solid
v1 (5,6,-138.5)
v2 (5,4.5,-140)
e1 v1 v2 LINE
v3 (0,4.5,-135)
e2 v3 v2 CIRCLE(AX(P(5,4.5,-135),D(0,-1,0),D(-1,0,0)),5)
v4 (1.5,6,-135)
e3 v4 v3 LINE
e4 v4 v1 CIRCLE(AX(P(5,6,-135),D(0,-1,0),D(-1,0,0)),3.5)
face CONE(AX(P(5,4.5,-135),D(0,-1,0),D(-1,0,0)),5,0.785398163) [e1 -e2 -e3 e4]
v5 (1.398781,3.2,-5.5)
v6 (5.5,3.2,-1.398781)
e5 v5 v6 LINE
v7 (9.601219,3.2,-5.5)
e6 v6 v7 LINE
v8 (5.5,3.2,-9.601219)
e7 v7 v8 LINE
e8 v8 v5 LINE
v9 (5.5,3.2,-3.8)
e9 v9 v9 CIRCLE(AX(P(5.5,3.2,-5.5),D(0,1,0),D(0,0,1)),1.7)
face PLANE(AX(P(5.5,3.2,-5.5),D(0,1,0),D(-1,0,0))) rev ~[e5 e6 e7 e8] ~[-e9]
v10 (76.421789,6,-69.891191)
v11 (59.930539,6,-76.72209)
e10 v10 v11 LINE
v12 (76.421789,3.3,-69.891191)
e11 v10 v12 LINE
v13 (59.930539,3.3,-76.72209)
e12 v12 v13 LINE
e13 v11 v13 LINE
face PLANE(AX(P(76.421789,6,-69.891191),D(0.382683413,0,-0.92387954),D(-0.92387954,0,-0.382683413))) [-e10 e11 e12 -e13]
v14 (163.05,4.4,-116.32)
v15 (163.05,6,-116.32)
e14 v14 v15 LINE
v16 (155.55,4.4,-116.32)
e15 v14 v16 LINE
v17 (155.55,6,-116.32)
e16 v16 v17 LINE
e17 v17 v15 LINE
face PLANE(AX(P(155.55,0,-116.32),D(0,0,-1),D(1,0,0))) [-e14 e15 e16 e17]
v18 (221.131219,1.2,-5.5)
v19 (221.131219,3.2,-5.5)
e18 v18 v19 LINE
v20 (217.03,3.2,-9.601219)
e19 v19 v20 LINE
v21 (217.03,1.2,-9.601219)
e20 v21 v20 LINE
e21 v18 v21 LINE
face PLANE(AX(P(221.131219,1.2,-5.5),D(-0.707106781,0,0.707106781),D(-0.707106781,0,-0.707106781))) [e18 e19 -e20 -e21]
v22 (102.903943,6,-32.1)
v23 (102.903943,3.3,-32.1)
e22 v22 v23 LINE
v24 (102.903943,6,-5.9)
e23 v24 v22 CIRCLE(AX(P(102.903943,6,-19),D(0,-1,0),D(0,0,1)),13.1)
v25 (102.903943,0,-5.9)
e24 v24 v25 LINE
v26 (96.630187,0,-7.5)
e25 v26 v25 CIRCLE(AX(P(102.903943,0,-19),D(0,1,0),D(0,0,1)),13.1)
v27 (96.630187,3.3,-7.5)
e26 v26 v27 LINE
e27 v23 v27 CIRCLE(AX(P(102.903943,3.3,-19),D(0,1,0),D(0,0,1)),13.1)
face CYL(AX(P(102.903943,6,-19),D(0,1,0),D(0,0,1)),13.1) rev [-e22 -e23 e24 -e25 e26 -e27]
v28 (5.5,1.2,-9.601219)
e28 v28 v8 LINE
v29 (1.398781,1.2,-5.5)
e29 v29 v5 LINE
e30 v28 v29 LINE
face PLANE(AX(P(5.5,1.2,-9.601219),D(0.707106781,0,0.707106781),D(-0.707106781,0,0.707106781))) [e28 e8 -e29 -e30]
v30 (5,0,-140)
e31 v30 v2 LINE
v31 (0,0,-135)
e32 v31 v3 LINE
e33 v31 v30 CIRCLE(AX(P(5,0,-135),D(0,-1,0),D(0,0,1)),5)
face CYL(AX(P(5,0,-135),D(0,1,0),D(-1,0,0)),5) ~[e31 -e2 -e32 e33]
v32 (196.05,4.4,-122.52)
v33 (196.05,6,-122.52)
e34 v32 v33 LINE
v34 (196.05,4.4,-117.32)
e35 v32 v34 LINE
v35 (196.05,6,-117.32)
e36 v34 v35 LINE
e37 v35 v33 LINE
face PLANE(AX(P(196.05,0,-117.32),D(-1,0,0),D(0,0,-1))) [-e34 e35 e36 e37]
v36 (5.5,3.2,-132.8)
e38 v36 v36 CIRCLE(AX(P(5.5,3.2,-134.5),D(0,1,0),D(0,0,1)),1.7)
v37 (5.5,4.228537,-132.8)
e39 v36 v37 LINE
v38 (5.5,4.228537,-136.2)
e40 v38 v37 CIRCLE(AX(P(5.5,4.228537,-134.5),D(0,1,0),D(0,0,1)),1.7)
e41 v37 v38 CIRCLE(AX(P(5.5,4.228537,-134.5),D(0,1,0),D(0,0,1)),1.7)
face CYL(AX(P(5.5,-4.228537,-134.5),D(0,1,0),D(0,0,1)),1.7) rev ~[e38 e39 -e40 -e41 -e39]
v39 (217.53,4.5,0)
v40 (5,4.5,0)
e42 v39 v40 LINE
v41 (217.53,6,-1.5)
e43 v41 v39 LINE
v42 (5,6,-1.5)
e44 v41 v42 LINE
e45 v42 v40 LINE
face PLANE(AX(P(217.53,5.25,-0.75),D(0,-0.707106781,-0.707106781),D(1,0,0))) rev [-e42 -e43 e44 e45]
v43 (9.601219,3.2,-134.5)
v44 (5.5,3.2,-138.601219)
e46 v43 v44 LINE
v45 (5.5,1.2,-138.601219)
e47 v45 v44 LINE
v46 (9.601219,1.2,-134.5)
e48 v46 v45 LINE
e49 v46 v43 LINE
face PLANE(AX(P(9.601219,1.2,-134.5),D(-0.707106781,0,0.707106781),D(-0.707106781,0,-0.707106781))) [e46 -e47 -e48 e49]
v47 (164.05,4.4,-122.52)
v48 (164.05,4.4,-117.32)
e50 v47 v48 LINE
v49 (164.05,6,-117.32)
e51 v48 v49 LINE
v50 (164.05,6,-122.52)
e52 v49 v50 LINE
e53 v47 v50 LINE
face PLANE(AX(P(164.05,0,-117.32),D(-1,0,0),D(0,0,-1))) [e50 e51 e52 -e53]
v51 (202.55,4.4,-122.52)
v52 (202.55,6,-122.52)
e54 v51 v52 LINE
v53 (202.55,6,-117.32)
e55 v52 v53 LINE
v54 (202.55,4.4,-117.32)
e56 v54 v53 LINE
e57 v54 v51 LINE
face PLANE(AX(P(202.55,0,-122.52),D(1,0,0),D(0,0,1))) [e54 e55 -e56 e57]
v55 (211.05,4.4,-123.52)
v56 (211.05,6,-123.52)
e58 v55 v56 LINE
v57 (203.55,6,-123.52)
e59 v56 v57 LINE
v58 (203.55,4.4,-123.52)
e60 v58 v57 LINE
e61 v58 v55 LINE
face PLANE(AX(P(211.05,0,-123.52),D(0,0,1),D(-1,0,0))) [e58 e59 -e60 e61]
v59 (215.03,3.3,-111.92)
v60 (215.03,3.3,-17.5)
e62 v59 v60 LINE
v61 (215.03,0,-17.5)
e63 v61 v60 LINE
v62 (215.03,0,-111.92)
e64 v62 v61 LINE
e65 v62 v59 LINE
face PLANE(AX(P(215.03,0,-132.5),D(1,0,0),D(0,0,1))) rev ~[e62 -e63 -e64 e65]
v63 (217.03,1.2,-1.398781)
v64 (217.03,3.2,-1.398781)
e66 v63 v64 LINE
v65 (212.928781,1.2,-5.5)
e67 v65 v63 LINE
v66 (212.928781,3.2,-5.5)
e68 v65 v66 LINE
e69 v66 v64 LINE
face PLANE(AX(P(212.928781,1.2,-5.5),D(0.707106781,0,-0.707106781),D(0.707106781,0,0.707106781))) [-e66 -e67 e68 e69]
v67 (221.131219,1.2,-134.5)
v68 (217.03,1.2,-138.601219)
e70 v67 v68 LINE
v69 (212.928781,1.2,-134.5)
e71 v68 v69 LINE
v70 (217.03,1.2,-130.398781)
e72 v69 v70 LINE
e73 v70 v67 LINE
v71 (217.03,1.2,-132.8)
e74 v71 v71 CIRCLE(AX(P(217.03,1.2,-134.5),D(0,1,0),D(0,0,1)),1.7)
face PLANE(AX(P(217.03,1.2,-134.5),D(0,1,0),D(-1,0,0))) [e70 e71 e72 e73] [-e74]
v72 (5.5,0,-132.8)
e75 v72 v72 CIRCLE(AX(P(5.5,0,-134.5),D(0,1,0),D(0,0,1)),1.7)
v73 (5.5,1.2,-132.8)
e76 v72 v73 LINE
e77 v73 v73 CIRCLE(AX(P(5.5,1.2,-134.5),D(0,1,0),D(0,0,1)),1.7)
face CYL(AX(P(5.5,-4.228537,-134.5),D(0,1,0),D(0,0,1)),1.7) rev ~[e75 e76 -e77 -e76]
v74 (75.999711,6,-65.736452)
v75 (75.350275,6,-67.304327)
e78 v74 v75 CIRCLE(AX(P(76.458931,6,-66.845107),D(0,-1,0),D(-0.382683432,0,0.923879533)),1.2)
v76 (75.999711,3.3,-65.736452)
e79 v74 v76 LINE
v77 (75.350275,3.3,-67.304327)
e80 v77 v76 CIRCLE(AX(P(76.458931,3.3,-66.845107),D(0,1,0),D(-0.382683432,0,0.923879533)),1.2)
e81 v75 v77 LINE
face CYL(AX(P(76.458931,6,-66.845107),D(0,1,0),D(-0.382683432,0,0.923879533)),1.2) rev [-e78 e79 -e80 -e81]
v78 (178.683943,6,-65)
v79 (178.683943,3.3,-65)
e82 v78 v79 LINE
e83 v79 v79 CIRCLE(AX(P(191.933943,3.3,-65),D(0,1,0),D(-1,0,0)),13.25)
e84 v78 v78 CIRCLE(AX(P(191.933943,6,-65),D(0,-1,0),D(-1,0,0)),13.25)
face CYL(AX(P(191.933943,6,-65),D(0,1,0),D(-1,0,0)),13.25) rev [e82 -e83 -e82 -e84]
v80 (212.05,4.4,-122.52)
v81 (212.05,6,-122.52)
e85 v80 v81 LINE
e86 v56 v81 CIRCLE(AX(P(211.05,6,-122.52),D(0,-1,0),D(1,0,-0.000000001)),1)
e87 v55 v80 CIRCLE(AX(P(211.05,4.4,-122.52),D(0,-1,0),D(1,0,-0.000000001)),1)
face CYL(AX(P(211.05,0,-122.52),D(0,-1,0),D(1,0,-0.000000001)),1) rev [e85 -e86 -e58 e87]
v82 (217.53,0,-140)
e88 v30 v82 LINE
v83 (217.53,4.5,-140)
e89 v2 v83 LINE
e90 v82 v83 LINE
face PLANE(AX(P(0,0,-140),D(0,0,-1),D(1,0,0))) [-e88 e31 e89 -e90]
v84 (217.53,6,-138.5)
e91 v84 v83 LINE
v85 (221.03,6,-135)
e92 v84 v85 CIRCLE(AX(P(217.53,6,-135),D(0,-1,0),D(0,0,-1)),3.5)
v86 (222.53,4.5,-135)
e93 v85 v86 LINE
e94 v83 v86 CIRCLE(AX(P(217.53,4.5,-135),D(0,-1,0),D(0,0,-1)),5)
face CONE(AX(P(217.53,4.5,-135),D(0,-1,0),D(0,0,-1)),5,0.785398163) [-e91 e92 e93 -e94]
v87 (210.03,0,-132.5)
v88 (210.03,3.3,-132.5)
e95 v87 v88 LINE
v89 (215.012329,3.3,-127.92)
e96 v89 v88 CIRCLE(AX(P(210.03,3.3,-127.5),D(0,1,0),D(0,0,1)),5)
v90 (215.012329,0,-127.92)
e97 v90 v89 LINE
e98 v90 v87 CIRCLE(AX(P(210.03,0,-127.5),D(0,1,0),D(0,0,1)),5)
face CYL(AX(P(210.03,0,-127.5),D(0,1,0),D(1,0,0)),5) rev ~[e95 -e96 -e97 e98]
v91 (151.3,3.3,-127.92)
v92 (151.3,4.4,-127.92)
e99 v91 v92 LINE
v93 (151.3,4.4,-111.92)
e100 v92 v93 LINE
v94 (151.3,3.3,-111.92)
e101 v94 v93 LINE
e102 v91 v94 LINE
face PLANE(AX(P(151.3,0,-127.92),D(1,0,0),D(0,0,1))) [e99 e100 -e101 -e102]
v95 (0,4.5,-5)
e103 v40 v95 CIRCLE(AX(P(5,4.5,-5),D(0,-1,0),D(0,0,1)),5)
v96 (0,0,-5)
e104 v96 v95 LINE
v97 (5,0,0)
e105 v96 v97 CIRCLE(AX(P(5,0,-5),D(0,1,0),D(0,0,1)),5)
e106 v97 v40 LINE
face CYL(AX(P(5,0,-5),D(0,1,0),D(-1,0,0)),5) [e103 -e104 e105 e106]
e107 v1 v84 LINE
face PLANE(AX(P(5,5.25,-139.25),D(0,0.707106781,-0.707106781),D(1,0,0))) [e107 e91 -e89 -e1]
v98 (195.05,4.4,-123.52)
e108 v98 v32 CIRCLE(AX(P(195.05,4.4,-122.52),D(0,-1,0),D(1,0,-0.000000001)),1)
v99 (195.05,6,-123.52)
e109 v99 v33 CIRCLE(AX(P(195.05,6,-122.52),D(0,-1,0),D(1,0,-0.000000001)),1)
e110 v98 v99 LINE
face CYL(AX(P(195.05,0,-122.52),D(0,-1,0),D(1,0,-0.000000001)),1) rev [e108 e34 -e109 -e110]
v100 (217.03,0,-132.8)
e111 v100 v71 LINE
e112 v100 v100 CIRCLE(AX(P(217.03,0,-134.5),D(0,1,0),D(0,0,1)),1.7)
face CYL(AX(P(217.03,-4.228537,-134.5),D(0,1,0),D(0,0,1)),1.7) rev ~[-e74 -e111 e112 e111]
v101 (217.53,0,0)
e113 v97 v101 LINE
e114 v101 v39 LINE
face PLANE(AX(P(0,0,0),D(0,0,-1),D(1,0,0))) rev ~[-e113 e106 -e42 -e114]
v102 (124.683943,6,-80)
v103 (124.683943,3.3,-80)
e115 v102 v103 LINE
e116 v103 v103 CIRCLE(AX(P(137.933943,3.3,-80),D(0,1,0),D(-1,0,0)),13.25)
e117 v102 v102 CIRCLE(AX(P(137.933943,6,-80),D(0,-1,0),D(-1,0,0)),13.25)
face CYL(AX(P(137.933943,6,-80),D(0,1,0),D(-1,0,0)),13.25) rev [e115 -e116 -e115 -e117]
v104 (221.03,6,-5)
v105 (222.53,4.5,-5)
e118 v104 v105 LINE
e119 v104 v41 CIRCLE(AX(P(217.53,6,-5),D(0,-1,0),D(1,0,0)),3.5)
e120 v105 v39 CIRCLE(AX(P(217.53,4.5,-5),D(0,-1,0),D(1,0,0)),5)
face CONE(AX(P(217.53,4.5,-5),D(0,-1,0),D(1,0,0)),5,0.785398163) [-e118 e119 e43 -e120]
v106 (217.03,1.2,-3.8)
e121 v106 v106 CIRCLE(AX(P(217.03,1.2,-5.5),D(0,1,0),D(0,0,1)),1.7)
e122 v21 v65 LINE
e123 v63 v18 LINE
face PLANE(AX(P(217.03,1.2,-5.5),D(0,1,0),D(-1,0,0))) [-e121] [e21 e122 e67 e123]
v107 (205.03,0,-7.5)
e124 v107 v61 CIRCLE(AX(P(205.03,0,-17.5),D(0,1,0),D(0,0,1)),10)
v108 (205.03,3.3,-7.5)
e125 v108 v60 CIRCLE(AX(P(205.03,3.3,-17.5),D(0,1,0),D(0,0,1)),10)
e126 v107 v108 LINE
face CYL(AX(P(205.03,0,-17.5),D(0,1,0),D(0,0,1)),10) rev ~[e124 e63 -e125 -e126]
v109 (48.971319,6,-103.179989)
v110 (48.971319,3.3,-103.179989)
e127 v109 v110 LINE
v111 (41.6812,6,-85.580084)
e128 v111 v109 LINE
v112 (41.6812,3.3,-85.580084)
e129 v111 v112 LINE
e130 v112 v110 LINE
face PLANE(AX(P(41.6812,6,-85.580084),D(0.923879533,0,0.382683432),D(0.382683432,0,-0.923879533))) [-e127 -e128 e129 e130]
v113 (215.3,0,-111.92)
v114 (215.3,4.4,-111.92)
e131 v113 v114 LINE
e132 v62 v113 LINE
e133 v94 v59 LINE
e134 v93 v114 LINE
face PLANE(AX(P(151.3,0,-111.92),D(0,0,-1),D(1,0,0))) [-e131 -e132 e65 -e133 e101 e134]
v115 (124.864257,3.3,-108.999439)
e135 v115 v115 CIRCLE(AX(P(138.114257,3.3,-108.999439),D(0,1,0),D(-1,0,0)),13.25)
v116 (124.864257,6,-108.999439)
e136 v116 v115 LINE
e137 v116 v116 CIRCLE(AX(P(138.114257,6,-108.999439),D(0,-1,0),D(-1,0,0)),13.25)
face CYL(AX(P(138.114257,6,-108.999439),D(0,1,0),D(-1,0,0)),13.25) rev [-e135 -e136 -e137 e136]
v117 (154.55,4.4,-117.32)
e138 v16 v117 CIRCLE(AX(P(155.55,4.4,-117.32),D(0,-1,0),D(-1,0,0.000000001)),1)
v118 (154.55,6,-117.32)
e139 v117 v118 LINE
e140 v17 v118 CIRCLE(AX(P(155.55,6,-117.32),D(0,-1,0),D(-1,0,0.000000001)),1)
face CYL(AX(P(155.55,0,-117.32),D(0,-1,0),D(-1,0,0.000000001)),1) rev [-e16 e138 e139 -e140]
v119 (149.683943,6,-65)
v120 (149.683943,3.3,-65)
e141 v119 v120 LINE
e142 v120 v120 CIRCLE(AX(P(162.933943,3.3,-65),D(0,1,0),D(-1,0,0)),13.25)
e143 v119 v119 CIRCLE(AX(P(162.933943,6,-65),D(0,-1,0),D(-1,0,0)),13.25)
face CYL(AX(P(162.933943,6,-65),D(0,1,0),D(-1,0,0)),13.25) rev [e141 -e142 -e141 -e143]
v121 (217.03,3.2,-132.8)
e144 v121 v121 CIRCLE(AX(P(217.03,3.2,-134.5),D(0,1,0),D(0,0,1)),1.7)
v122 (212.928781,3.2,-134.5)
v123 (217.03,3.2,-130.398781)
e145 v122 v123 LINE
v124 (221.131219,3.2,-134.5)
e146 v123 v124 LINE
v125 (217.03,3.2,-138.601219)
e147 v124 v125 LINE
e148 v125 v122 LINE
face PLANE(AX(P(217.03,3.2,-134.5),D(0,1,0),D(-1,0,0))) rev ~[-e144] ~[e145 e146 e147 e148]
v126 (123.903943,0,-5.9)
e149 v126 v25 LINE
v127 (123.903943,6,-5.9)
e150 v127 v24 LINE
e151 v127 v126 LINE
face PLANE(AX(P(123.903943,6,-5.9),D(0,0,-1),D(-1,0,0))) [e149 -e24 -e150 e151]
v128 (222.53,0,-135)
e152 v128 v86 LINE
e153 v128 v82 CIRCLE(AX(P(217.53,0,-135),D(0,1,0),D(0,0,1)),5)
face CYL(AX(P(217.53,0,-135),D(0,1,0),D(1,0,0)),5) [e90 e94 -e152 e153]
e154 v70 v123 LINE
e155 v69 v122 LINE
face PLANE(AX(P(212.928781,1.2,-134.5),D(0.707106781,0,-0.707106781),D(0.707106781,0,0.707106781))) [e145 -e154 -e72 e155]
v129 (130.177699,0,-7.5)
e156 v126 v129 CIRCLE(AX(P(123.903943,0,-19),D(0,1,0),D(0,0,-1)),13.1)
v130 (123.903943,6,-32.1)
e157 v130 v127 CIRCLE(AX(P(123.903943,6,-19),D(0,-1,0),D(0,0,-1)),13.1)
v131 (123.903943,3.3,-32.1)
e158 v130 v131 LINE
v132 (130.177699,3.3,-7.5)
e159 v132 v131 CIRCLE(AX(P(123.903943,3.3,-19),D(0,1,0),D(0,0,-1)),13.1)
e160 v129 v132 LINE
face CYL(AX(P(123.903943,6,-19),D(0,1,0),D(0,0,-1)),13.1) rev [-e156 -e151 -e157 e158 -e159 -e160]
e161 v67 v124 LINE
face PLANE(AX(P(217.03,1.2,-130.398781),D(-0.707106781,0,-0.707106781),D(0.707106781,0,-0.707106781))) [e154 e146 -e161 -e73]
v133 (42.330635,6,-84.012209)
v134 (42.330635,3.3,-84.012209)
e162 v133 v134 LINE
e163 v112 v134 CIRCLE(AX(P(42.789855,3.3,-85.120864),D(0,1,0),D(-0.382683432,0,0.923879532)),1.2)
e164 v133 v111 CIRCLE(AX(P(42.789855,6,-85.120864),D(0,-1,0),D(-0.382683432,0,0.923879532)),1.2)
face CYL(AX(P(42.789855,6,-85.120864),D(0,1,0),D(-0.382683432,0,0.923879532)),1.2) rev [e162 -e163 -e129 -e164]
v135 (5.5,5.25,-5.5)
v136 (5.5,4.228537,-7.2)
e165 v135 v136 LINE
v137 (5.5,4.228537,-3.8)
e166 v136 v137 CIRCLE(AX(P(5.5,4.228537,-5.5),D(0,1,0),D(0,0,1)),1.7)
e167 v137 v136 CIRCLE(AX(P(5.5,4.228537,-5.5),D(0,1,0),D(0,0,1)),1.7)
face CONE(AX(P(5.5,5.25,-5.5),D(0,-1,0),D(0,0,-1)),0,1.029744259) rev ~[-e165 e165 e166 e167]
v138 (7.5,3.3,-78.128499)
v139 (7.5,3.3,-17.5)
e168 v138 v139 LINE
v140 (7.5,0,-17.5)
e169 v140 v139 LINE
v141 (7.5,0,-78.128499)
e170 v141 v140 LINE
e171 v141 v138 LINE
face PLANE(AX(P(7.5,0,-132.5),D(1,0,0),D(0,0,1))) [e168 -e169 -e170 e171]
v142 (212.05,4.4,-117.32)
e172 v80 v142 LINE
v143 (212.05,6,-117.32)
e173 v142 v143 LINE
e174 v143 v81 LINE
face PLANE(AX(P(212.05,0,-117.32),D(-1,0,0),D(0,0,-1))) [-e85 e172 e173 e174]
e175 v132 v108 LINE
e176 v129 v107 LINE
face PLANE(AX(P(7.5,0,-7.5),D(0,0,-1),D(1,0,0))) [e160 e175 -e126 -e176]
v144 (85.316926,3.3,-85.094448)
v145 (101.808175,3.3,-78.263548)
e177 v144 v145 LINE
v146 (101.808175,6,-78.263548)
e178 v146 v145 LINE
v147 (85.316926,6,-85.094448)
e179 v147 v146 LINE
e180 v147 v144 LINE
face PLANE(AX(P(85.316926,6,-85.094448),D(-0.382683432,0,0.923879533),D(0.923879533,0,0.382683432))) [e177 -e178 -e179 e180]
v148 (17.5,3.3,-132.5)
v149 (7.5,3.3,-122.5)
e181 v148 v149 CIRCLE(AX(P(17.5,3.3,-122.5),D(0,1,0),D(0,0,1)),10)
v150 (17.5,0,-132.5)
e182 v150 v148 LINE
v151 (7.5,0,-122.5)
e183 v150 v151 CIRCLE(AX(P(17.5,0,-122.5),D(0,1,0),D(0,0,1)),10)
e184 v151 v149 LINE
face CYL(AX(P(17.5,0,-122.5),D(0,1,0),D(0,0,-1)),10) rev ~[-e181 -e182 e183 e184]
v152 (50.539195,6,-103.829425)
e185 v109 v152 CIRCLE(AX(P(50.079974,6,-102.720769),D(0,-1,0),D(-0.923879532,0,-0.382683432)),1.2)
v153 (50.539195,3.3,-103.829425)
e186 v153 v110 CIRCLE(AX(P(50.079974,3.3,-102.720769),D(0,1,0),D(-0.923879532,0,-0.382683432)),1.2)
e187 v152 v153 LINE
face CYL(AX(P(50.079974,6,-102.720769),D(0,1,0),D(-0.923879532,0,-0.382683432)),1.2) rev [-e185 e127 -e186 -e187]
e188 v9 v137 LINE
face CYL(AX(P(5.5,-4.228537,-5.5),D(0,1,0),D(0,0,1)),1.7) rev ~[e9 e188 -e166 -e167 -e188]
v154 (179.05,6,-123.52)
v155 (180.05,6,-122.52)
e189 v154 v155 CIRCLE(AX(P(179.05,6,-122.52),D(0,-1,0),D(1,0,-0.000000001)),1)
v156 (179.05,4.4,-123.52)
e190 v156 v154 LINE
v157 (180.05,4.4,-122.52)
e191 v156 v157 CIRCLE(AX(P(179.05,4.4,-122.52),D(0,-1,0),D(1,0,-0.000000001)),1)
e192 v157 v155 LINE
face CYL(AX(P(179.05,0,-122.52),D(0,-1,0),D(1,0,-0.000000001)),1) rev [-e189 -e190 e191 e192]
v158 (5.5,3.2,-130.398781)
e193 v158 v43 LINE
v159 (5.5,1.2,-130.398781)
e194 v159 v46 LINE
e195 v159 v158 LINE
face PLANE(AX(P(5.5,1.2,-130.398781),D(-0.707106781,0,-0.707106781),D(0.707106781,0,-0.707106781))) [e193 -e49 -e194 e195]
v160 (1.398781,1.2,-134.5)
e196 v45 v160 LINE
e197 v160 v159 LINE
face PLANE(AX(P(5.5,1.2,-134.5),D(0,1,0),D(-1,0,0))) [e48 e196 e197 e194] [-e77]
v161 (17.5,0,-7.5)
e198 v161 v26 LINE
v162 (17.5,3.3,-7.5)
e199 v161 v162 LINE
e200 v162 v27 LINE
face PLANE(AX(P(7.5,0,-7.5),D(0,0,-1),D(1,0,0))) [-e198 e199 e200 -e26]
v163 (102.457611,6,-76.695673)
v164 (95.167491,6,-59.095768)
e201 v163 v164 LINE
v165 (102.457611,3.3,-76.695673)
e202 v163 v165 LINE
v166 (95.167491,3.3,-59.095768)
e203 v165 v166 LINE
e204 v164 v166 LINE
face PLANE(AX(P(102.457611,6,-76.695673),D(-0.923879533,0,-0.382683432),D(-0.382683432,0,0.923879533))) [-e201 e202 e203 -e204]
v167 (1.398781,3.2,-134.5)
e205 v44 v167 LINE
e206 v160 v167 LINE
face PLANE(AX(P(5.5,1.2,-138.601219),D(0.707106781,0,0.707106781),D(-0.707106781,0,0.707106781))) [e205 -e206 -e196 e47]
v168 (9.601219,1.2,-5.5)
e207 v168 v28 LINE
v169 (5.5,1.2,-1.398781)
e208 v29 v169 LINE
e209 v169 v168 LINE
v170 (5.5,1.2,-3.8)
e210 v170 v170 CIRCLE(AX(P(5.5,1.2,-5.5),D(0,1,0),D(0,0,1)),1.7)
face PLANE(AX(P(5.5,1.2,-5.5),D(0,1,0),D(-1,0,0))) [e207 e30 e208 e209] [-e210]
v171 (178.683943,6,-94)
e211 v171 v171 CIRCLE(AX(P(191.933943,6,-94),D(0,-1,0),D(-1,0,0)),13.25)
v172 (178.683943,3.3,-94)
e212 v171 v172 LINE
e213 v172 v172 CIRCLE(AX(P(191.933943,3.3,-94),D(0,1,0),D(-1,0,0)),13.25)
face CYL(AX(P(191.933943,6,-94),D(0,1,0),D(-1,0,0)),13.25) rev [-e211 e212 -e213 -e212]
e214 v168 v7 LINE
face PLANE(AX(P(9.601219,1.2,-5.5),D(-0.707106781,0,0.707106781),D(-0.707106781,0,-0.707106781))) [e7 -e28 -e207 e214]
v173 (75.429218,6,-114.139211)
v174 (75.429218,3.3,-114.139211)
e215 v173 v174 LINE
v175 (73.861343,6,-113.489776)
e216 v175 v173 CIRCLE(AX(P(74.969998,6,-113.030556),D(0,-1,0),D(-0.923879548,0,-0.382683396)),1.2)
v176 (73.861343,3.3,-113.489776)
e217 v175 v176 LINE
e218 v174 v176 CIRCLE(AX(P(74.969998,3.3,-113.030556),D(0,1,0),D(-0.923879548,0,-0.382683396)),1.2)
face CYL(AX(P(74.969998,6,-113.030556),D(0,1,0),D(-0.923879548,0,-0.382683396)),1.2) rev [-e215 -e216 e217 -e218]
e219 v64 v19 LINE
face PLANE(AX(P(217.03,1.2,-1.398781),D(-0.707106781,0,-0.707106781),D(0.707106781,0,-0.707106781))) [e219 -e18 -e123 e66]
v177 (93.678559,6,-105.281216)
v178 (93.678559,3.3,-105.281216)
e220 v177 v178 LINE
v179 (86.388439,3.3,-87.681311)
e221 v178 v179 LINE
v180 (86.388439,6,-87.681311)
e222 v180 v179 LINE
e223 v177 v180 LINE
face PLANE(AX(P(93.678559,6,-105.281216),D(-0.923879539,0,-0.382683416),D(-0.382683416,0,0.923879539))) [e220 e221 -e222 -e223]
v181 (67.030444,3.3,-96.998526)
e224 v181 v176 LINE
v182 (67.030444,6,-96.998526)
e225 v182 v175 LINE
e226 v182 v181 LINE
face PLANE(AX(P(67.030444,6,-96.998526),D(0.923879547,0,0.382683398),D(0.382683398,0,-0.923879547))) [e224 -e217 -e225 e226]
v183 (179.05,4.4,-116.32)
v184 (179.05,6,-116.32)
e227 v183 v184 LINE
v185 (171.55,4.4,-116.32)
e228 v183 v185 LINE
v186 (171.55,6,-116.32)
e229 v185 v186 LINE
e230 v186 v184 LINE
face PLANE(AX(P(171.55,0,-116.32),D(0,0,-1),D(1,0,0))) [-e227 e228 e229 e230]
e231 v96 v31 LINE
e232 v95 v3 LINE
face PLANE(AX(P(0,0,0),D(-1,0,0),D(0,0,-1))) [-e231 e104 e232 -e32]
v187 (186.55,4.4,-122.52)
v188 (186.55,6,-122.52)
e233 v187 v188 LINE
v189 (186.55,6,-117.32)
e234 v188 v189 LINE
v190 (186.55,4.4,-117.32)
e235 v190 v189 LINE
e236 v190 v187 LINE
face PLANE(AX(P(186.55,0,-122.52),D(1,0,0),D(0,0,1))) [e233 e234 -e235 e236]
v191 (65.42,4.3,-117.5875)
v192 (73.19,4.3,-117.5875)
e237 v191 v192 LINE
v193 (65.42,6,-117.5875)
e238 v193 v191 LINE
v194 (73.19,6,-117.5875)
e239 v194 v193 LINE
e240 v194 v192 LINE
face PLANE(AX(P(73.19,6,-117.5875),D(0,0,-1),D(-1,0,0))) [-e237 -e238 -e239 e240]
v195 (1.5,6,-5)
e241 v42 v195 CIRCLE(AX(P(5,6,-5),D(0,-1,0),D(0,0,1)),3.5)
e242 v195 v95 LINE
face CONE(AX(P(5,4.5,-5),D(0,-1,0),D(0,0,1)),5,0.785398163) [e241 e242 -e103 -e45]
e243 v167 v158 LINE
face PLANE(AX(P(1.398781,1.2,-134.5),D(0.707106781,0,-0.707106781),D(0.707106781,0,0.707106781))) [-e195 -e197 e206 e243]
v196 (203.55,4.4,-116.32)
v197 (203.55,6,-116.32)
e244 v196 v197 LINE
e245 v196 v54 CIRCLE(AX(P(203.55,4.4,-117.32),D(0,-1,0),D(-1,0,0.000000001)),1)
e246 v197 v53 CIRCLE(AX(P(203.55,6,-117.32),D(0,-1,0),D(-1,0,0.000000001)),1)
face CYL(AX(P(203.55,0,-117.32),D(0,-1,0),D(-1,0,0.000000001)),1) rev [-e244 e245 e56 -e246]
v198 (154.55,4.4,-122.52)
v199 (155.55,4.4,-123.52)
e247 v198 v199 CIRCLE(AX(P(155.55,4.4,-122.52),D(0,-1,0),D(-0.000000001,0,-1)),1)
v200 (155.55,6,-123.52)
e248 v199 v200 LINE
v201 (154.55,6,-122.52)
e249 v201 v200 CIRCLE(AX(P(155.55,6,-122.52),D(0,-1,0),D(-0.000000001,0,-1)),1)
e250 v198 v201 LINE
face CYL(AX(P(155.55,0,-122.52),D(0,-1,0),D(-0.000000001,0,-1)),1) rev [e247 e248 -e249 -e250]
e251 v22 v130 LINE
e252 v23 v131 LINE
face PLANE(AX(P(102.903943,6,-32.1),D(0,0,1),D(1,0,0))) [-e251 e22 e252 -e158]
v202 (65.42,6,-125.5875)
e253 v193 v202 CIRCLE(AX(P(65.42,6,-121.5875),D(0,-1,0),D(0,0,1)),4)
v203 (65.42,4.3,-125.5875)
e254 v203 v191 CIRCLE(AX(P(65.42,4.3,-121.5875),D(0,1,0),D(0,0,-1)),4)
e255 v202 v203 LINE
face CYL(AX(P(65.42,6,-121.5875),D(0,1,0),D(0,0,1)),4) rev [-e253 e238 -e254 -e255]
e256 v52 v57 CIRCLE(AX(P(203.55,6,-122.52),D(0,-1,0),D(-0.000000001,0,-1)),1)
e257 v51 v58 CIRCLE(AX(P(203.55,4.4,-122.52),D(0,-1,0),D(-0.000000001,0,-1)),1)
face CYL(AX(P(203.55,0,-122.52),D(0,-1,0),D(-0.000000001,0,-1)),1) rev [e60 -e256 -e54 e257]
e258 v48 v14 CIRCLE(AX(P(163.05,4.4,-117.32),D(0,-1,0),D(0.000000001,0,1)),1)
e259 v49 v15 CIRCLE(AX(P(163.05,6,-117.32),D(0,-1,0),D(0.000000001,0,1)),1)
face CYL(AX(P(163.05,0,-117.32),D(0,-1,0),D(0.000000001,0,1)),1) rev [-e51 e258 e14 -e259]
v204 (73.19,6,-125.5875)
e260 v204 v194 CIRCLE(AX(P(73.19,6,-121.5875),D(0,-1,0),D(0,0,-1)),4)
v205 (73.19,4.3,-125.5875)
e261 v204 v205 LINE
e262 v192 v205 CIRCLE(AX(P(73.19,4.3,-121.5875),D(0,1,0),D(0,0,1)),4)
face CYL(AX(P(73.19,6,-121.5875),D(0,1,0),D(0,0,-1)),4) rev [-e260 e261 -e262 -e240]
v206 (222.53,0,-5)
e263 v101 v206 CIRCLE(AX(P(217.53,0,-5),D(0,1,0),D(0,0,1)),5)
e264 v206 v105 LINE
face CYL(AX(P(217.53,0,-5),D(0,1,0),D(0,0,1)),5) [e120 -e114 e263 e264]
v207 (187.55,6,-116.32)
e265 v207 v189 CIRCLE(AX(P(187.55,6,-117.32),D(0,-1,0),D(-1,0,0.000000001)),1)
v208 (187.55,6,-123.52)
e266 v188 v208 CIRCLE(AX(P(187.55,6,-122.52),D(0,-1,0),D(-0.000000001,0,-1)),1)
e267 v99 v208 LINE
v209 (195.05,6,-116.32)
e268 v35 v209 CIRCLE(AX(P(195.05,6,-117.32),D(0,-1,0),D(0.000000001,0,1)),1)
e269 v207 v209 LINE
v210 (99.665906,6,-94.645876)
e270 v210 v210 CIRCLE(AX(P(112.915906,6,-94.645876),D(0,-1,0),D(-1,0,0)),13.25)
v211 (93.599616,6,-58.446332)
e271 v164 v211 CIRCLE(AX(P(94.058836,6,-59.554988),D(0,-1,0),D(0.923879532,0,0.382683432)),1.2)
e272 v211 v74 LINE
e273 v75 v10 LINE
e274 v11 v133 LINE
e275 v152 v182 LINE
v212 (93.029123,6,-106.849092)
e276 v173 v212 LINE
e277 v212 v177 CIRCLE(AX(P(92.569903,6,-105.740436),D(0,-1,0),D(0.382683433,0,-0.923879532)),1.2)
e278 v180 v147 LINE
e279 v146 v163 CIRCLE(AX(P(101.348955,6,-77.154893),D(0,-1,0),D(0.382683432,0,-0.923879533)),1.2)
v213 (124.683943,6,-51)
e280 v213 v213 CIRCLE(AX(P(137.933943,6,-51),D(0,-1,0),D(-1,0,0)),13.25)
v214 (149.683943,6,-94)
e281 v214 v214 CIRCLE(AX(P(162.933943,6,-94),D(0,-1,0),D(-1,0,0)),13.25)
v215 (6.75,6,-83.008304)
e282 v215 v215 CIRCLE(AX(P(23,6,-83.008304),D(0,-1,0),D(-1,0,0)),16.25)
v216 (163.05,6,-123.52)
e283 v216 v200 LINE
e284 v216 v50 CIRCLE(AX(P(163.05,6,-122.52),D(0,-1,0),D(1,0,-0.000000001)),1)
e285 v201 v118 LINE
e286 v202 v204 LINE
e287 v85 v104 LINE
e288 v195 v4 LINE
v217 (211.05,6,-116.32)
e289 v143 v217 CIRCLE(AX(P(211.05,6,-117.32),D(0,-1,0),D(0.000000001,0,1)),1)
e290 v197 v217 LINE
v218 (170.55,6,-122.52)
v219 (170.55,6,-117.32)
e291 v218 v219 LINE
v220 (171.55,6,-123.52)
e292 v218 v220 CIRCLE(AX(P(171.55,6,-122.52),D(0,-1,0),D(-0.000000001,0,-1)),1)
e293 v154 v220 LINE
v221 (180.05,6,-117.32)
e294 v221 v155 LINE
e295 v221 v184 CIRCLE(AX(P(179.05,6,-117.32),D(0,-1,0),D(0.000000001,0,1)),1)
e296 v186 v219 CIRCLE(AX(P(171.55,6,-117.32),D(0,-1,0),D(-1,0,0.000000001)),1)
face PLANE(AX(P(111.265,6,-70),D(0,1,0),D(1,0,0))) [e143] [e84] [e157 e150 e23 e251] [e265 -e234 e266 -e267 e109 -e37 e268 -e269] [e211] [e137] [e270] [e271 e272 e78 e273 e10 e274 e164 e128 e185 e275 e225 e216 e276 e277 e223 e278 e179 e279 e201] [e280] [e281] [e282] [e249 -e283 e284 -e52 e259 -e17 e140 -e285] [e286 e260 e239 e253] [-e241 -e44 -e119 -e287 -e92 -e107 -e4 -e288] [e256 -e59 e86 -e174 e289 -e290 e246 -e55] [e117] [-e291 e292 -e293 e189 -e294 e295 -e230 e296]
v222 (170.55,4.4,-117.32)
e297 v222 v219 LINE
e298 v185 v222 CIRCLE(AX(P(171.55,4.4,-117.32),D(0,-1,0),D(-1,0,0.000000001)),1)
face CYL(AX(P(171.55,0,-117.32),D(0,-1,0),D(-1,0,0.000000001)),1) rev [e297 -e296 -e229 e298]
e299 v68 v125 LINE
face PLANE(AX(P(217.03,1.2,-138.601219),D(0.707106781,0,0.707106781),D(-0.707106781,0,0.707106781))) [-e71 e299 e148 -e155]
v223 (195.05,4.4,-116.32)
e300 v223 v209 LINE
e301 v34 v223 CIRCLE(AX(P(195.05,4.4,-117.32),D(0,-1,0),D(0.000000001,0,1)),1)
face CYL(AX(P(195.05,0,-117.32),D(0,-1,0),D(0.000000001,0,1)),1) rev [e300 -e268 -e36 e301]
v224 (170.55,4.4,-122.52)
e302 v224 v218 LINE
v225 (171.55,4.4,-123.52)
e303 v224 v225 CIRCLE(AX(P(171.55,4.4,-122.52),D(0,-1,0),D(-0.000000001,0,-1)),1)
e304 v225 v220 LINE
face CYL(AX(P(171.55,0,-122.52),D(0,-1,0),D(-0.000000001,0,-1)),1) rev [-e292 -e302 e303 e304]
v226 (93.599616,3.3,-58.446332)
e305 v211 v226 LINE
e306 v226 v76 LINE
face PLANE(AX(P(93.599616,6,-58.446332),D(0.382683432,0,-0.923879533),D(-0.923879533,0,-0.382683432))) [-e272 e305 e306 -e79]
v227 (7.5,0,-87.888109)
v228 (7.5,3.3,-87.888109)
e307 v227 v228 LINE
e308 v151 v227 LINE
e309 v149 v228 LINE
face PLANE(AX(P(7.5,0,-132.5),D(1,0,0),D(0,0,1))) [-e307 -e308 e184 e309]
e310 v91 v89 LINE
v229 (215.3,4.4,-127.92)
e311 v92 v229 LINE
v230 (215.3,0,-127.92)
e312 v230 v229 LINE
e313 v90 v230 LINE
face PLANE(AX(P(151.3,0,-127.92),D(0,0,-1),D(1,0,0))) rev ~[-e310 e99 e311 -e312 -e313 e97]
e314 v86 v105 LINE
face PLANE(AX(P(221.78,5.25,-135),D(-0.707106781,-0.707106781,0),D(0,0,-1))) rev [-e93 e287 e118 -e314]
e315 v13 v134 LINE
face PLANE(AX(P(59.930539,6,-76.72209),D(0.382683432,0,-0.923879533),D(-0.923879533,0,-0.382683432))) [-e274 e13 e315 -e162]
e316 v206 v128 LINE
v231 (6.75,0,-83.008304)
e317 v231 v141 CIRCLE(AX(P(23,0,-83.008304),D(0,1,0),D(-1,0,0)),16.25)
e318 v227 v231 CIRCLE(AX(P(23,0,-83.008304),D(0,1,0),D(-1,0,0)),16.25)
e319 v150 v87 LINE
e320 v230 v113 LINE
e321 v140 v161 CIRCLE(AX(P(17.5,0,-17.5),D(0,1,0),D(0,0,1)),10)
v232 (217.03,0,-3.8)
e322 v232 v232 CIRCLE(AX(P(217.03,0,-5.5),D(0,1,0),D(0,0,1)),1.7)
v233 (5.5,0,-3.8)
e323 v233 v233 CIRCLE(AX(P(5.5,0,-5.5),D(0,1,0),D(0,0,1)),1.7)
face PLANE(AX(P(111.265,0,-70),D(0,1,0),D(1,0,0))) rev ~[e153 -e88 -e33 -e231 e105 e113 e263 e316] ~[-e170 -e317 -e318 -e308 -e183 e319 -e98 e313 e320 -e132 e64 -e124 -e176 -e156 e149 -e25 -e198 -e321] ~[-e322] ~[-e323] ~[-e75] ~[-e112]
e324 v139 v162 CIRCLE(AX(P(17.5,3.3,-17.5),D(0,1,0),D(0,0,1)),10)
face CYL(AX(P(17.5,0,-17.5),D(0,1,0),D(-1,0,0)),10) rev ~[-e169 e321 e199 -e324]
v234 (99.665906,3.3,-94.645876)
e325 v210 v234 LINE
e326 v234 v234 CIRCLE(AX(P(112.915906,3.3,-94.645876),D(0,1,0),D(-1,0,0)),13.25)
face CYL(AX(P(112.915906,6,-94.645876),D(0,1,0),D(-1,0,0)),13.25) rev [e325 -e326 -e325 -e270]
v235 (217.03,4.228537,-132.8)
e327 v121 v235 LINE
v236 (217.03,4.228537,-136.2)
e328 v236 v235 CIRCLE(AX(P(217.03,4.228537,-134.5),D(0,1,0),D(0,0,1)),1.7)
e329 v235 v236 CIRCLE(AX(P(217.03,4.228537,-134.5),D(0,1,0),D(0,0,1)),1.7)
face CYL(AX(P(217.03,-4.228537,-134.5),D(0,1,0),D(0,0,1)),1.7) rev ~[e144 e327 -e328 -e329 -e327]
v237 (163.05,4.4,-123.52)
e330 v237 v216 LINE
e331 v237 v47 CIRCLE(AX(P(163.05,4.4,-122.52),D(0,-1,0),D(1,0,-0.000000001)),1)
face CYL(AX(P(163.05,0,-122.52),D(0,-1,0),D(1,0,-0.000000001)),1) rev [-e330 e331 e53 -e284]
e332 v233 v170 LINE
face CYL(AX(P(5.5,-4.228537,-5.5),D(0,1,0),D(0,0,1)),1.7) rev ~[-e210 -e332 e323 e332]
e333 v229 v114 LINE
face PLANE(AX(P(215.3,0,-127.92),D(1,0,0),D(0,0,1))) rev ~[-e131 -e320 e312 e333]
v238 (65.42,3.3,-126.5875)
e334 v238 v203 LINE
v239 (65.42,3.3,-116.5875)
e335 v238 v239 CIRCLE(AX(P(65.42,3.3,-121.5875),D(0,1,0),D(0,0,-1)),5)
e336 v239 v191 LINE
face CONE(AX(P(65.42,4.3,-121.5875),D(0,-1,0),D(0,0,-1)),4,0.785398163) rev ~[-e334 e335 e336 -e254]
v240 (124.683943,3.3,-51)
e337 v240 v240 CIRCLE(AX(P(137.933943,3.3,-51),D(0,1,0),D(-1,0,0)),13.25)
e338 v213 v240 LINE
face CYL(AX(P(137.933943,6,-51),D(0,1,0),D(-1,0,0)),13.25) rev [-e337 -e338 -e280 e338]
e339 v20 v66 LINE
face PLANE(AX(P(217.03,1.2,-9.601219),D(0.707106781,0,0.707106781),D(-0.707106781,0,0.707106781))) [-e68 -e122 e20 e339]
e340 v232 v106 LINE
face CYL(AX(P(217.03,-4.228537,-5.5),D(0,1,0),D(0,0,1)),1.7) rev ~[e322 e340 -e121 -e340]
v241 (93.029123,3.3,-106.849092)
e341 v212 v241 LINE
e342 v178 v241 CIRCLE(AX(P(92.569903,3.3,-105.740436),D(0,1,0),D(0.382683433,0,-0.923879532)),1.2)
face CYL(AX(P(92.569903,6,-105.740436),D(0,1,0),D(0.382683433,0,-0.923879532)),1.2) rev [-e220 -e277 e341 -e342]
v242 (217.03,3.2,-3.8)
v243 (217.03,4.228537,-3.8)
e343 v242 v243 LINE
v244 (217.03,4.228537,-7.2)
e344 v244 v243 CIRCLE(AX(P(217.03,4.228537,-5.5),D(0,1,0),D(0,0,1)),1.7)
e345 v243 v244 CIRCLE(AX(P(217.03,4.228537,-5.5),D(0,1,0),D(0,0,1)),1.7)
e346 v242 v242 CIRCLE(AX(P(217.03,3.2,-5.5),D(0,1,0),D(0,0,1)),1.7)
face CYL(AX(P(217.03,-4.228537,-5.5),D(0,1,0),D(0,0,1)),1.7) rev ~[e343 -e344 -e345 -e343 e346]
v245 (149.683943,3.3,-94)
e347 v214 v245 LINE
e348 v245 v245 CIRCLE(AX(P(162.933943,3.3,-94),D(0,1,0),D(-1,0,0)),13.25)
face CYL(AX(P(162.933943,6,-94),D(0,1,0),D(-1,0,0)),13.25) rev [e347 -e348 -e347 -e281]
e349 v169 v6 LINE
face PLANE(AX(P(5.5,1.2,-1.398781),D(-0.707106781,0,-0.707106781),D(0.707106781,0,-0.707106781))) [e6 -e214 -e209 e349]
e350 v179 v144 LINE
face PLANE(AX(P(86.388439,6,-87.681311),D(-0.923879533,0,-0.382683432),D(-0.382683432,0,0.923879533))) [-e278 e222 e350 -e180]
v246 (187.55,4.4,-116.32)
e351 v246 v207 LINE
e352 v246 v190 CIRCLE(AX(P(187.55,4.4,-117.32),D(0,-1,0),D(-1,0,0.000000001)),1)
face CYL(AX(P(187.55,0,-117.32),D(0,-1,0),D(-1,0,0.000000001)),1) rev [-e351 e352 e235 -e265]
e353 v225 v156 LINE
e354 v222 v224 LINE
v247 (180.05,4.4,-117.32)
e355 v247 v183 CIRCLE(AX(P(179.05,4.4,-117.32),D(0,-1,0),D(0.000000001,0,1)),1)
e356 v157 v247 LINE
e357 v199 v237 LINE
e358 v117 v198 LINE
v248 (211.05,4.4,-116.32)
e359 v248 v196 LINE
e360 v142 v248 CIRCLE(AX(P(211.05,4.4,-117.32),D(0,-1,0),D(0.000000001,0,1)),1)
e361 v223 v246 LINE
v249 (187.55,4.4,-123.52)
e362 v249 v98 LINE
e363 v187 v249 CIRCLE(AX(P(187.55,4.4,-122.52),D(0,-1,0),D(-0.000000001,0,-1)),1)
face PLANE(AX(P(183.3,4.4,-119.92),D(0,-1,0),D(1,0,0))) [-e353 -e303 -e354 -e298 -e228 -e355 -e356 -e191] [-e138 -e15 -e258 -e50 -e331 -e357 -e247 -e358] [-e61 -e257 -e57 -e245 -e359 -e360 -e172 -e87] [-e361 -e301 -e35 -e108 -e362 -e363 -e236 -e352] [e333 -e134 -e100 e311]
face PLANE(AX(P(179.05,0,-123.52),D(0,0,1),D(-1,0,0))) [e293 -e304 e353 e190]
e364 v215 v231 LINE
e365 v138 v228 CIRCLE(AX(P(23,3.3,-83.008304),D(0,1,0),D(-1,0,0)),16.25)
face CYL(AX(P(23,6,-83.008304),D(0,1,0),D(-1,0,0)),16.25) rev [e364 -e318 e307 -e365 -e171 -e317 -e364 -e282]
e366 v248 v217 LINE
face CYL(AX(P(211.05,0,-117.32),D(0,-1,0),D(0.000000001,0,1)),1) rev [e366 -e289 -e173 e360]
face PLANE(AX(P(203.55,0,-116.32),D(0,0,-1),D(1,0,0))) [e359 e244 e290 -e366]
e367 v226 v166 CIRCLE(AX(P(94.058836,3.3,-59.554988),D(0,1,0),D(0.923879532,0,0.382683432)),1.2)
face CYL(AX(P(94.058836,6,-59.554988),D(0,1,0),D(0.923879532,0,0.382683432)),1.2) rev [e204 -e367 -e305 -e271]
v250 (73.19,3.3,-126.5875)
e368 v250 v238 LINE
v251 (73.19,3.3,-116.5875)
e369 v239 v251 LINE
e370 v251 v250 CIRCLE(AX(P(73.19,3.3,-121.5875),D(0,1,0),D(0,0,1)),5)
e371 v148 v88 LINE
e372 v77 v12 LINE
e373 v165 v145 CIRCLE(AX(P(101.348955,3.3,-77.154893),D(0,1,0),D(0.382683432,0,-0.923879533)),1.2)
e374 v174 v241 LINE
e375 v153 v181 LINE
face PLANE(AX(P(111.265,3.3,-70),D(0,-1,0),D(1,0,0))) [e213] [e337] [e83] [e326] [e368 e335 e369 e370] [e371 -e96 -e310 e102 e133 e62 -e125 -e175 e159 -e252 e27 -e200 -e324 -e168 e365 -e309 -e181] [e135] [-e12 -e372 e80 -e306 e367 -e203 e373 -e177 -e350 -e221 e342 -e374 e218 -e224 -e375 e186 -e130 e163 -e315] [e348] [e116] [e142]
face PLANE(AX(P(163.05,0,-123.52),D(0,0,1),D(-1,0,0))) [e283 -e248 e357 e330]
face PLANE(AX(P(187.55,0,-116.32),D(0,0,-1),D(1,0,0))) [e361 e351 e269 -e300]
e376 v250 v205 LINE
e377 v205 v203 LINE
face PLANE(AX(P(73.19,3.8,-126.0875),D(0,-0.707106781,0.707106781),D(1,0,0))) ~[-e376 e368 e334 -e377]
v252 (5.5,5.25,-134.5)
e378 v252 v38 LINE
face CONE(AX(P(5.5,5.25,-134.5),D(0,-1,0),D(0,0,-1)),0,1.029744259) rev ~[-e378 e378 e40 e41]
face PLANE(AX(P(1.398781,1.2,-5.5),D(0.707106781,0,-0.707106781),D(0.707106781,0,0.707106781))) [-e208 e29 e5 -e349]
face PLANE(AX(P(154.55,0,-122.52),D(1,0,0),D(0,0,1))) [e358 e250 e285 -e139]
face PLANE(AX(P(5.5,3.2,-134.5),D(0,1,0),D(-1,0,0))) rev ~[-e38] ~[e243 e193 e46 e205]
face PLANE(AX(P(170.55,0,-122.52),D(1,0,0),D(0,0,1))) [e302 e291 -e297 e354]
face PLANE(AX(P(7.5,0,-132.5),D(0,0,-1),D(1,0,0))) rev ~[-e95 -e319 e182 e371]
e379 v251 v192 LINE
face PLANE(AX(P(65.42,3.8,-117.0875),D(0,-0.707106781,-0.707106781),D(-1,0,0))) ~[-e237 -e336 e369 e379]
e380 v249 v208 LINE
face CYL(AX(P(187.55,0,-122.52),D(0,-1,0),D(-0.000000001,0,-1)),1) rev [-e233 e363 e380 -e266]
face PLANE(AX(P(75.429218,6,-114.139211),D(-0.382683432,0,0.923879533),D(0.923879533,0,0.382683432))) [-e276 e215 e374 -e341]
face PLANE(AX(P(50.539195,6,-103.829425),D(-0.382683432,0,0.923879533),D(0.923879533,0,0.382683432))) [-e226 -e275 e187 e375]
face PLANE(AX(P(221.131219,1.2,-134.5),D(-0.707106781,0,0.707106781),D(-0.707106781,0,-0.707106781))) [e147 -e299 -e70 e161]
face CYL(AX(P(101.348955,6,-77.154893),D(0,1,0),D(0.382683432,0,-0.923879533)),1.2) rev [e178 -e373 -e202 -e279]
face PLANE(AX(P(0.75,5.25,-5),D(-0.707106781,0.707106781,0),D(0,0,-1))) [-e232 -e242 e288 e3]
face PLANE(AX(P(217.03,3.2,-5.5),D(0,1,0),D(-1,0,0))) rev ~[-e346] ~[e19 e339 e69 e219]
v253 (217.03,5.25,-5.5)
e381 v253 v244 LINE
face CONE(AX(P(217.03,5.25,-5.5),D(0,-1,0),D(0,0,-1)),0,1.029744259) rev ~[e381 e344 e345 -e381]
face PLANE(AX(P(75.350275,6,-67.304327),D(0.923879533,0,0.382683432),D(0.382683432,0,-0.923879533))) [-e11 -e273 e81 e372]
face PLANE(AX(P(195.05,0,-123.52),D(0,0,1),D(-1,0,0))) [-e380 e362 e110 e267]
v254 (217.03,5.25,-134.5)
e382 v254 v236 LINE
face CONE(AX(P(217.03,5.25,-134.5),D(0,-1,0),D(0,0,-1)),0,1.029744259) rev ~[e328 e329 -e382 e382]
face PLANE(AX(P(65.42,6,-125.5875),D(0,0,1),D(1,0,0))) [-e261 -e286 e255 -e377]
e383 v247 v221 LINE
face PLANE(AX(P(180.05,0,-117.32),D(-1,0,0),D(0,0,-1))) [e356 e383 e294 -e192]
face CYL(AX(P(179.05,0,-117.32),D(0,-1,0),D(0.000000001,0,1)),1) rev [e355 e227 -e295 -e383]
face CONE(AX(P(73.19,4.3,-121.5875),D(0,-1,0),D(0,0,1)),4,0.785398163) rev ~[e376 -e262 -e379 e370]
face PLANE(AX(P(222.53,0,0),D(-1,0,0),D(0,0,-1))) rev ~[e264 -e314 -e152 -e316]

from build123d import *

# Parameters (mm, degrees)
SKETCH1_W                = 222.53
SKETCH1_H                = 140
TOP_PLATE_DEPTH          = 6
CORNER_FILLET_R          = 5
M3_CLEARANCE_HOLE1_D     = 3.4
M3_CLEARANCE_HOLE1_DEPTH = 4.228536948
M3_CLEARANCE_HOLE1_TIP   = 1.021463052
SKETCH4_R                = 16.25
SKETCH4_R_2              = 13.25
PRIMARY_BUTTONS_DEPTH    = 10
EXTRA_BUTTONS_REACH      = 8
SKETCH8_W                = 207.53
SKETCH8_H                = 125
HOLLOW_OUT_DEPTH         = 3.3
FILLET1_R                = 10
FILLET2_R                = 5
SKETCH15_W               = 64
SKETCH15_H               = 16
CUT_EXTRUDE4_DEPTH       = 4.4
LIGHT_GUIDE_CUTOUT_DEPTH = 10
CHAMFER1_SIZE            = 1
TOP_CHAMFER_SIZE         = 1.5
NUT_START                = -1.2
NUT_CUTOUT_DEPTH         = 2


with BuildPart() as part:
    # Sketch1 → Top Plate (new body)
    with BuildSketch(Plane(origin=(0, 0, 0), x_dir=(1, 0, 0), z_dir=(0, 1, 0))):
        with Locations((111.265, 70)):
            Rectangle(SKETCH1_W, SKETCH1_H)
    extrude(amount=TOP_PLATE_DEPTH)

    # Corner Fillet
    corner_fillet_edges = [part.edges().sort_by_distance(p)[0] for p in [
        (0, 3, -140),
        (222.53, 3, -140),
        (222.53, 3, 0),
        (0, 3, 0),
    ]]
    fillet(corner_fillet_edges, radius=CORNER_FILLET_R)

    # M3 Clearance Hole1
    with Locations(Plane(origin=(217.03, 0, -5.5), x_dir=(0, 0, -1), z_dir=(0, -1, 0))):
        with Locations((0, 0), (129, 0), (129, -211.53), (0, -211.53)):
            Hole(M3_CLEARANCE_HOLE1_D / 2, depth=M3_CLEARANCE_HOLE1_DEPTH)
            with Locations((0, 0, -(M3_CLEARANCE_HOLE1_DEPTH + M3_CLEARANCE_HOLE1_TIP / 2))):  # 118° drill point
                Cone(0, M3_CLEARANCE_HOLE1_D / 2, M3_CLEARANCE_HOLE1_TIP, mode=Mode.SUBTRACT)

    # Sketch4 → Primary Buttons (cut)
    with BuildSketch(Plane(origin=(0, 6, 0), x_dir=(-1, 0, 0), z_dir=(0, -1, 0))):
        with BuildLine():
            ThreePointArc((-48.971318984, 103.179989332), (-49.620754304, 103.829424652), (-50.539194542, 103.829424652))
            Line((-50.539194542, 103.829424652), (-67.030443813, 96.998525544))
            Line((-67.030443813, 96.998525544), (-73.861342517, 113.489775595))
            ThreePointArc((-73.861342517, 113.489775595), (-74.510777833, 114.139210949), (-75.429218092, 114.139210957))
            Line((-75.429218092, 114.139210957), (-93.029123186, 106.849091571))
            ThreePointArc((-93.029123186, 106.849091571), (-93.678558502, 106.199656261), (-93.678558515, 105.281216033))
            Line((-93.678558515, 105.281216033), (-86.388439374, 87.681310625))
            Line((-86.388439374, 87.681310625), (-85.316925644, 85.094447645))
            Line((-85.316925644, 85.094447645), (-101.80817536, 78.263548352))
            ThreePointArc((-101.80817536, 78.263548352), (-102.457610681, 77.614113031), (-102.457610681, 76.695672794))
            Line((-102.457610681, 76.695672794), (-95.167491294, 59.095767699))
            ThreePointArc((-95.167491294, 59.095767699), (-94.518055974, 58.446332379), (-93.599615736, 58.446332379))
            Line((-93.599615736, 58.446332379), (-75.999710782, 65.736451708))
            ThreePointArc((-75.999710782, 65.736451708), (-75.350275462, 66.385887028), (-75.350275462, 67.304327265))
            Line((-75.350275462, 67.304327265), (-76.421789326, 69.891190568))
            Line((-76.421789326, 69.891190568), (-59.93053937, 76.722089559))
            Line((-59.93053937, 76.722089559), (-42.330634918, 84.01220868))
            ThreePointArc((-42.330634918, 84.01220868), (-41.681199598, 84.661644), (-41.681199598, 85.580084238))
            Line((-41.681199598, 85.580084238), (-48.971318984, 103.179989332))
        make_face()
        with Locations((-23, 83.008304)):
            Circle(SKETCH4_R)
        with Locations((-112.915906, 94.645876)):
            Circle(SKETCH4_R_2)
        with Locations((-138.114257, 108.999439)):
            Circle(SKETCH4_R_2)
        with Locations((-162.933943, 94)):
            Circle(SKETCH4_R_2)
        with Locations((-191.933943, 94)):
            Circle(SKETCH4_R_2)
        with Locations((-137.933943, 80)):
            Circle(SKETCH4_R_2)
        with Locations((-137.933943, 51)):
            Circle(SKETCH4_R_2)
        with Locations((-162.933943, 65)):
            Circle(SKETCH4_R_2)
        with Locations((-191.933943, 65)):
            Circle(SKETCH4_R_2)
        with BuildLine():
            ThreePointArc((-102.903943224, 5.899999517), (-89.803943224, 18.999999517), (-102.903943224, 32.099999517))
            Line((-102.903943224, 32.099999517), (-123.903943224, 32.099999517))
            ThreePointArc((-123.903943224, 32.099999517), (-137.003943224, 18.999999517), (-123.903943224, 5.899999517))
            Line((-123.903943224, 5.899999517), (-102.903943224, 5.899999517))
        make_face()
    extrude(amount=PRIMARY_BUTTONS_DEPTH, mode=Mode.SUBTRACT)

    # Sketch5 → Extra Buttons (cut, up to next)
    with BuildSketch(Plane.XZ, mode=Mode.PRIVATE) as extra_buttons_sk1:
        with BuildLine():
            Line((154.55, -122.52), (154.55, -117.32))
            ThreePointArc((154.55, -117.32), (154.842893219, -116.612893219), (155.55, -116.32))
            Line((155.55, -116.32), (163.05, -116.32))
            ThreePointArc((163.05, -116.32), (163.757106781, -116.612893219), (164.05, -117.32))
            Line((164.05, -117.32), (164.05, -122.52))
            ThreePointArc((164.05, -122.52), (163.757106781, -123.227106781), (163.05, -123.52))
            Line((163.05, -123.52), (155.55, -123.52))
            ThreePointArc((155.55, -123.52), (154.842893219, -123.227106781), (154.55, -122.52))
        make_face()
    extra_buttons_tool1 = extrude(extra_buttons_sk1.sketch, amount=-EXTRA_BUTTONS_REACH, mode=Mode.PRIVATE) & part.part
    add(extra_buttons_tool1.solids().sort_by_distance((159.3, 0, -119.92))[0], mode=Mode.SUBTRACT)
    # Sketch5 → Extra Buttons (cut, up to next)
    with BuildSketch(Plane.XZ, mode=Mode.PRIVATE) as extra_buttons_sk2:
        with BuildLine():
            Line((170.55, -122.52), (170.55, -117.32))
            ThreePointArc((170.55, -117.32), (170.842893219, -116.612893219), (171.55, -116.32))
            Line((171.55, -116.32), (179.05, -116.32))
            ThreePointArc((179.05, -116.32), (179.757106781, -116.612893219), (180.05, -117.32))
            Line((180.05, -117.32), (180.05, -122.52))
            ThreePointArc((180.05, -122.52), (179.757106781, -123.227106781), (179.05, -123.52))
            Line((179.05, -123.52), (171.55, -123.52))
            ThreePointArc((171.55, -123.52), (170.842893219, -123.227106781), (170.55, -122.52))
        make_face()
    extra_buttons_tool2 = extrude(extra_buttons_sk2.sketch, amount=-EXTRA_BUTTONS_REACH, mode=Mode.PRIVATE) & part.part
    add(extra_buttons_tool2.solids().sort_by_distance((175.3, 0, -119.92))[0], mode=Mode.SUBTRACT)
    # Sketch5 → Extra Buttons (cut, up to next)
    with BuildSketch(Plane.XZ, mode=Mode.PRIVATE) as extra_buttons_sk3:
        with BuildLine():
            Line((186.55, -122.52), (186.55, -117.32))
            ThreePointArc((186.55, -117.32), (186.842893219, -116.612893219), (187.55, -116.32))
            Line((187.55, -116.32), (195.05, -116.32))
            ThreePointArc((195.05, -116.32), (195.757106781, -116.612893219), (196.05, -117.32))
            Line((196.05, -117.32), (196.05, -122.52))
            ThreePointArc((196.05, -122.52), (195.757106781, -123.227106781), (195.05, -123.52))
            Line((195.05, -123.52), (187.55, -123.52))
            ThreePointArc((187.55, -123.52), (186.842893219, -123.227106781), (186.55, -122.52))
        make_face()
    extra_buttons_tool3 = extrude(extra_buttons_sk3.sketch, amount=-EXTRA_BUTTONS_REACH, mode=Mode.PRIVATE) & part.part
    add(extra_buttons_tool3.solids().sort_by_distance((191.3, 0, -119.92))[0], mode=Mode.SUBTRACT)
    # Sketch5 → Extra Buttons (cut, up to next)
    with BuildSketch(Plane.XZ, mode=Mode.PRIVATE) as extra_buttons_sk4:
        with BuildLine():
            Line((202.55, -122.52), (202.55, -117.32))
            ThreePointArc((202.55, -117.32), (202.842893219, -116.612893219), (203.55, -116.32))
            Line((203.55, -116.32), (211.05, -116.32))
            ThreePointArc((211.05, -116.32), (211.757106781, -116.612893219), (212.05, -117.32))
            Line((212.05, -117.32), (212.05, -122.52))
            ThreePointArc((212.05, -122.52), (211.757106781, -123.227106781), (211.05, -123.52))
            Line((211.05, -123.52), (203.55, -123.52))
            ThreePointArc((203.55, -123.52), (202.842893219, -123.227106781), (202.55, -122.52))
        make_face()
    extra_buttons_tool4 = extrude(extra_buttons_sk4.sketch, amount=-EXTRA_BUTTONS_REACH, mode=Mode.PRIVATE) & part.part
    add(extra_buttons_tool4.solids().sort_by_distance((207.3, 0, -119.92))[0], mode=Mode.SUBTRACT)

    # Sketch8 → Hollow Out (cut)
    with BuildSketch(Plane.XZ):
        with Locations((111.265, -70)):
            Rectangle(SKETCH8_W, SKETCH8_H)
    extrude(amount=-HOLLOW_OUT_DEPTH, mode=Mode.SUBTRACT)

    # Fillet1
    fillet1_edges = [part.edges().sort_by_distance(p)[0] for p in [
        (7.5, 1.65, -7.5),
        (7.5, 1.65, -132.5),
        (215.03, 1.65, -7.5),
    ]]
    fillet(fillet1_edges, radius=FILLET1_R)

    # Fillet2
    fillet2_edges = [part.edges().sort_by_distance(p)[0] for p in [
        (215.03, 1.65, -132.5),
    ]]
    fillet(fillet2_edges, radius=FILLET2_R)

    # Sketch15 → Cut-Extrude4 (cut)
    with BuildSketch(Plane.XZ):
        with Locations((183.3, -119.92)):
            Rectangle(SKETCH15_W, SKETCH15_H)
    extrude(amount=-CUT_EXTRUDE4_DEPTH, mode=Mode.SUBTRACT)

    # Sketch9 → Light Guide Cutout (cut)
    with BuildSketch(Plane(origin=(0, 6, 0), x_dir=(1, 0, 0), z_dir=(0, 1, 0))):
        with BuildLine():
            Line((65.42, 125.5875), (73.19, 125.5875))
            ThreePointArc((73.19, 125.5875), (77.19, 121.5875), (73.19, 117.5875))
            Line((73.19, 117.5875), (65.42, 117.5875))
            ThreePointArc((65.42, 117.5875), (61.42, 121.5875), (65.42, 125.5875))
        make_face()
    extrude(amount=-LIGHT_GUIDE_CUTOUT_DEPTH, mode=Mode.SUBTRACT)

    # Chamfer1
    chamfer1_edges = [part.edges().sort_by_distance(p)[0] for p in [
        (69.305, 3.3, -117.5875),
        (77.19, 3.3, -121.5875),
        (69.305, 3.3, -125.5875),
        (61.42, 3.3, -121.5875),
    ]]
    chamfer(chamfer1_edges, length=CHAMFER1_SIZE)

    # Top Chamfer
    top_chamfer_edges = [part.edges().sort_by_distance(p)[0] for p in [
        (0, 6, -70),
        (111.265, 6, -140),
        (111.265, 6, 0),
        (222.53, 6, -70),
        (221.065533906, 6, -1.464466094),
        (221.065533906, 6, -138.535533906),
        (1.464466094, 6, -1.464466094),
        (1.464466094, 6, -138.535533906),
    ]]
    chamfer(top_chamfer_edges, length=TOP_CHAMFER_SIZE)

    # Sketch11 → Nut Cutout (cut)
    with BuildSketch(Plane.XZ.offset(NUT_START)):
        Polygon((217.03, -138.601219331), (212.928780669, -134.5), (217.03, -130.398780669), (221.131219331, -134.5), align=None)
        Polygon((1.398780669, -134.5), (5.5, -130.398780669), (9.601219331, -134.5), (5.5, -138.601219331), align=None)
        Polygon((5.5, -9.601219331), (1.398780669, -5.5), (5.5, -1.398780669), (9.601219331, -5.5), align=None)
        Polygon((217.03, -9.601219331), (212.928780669, -5.5), (217.03, -1.398780669), (221.131219331, -5.5), align=None)
    extrude(amount=-NUT_CUTOUT_DEPTH, mode=Mode.SUBTRACT)


solid = part.part
